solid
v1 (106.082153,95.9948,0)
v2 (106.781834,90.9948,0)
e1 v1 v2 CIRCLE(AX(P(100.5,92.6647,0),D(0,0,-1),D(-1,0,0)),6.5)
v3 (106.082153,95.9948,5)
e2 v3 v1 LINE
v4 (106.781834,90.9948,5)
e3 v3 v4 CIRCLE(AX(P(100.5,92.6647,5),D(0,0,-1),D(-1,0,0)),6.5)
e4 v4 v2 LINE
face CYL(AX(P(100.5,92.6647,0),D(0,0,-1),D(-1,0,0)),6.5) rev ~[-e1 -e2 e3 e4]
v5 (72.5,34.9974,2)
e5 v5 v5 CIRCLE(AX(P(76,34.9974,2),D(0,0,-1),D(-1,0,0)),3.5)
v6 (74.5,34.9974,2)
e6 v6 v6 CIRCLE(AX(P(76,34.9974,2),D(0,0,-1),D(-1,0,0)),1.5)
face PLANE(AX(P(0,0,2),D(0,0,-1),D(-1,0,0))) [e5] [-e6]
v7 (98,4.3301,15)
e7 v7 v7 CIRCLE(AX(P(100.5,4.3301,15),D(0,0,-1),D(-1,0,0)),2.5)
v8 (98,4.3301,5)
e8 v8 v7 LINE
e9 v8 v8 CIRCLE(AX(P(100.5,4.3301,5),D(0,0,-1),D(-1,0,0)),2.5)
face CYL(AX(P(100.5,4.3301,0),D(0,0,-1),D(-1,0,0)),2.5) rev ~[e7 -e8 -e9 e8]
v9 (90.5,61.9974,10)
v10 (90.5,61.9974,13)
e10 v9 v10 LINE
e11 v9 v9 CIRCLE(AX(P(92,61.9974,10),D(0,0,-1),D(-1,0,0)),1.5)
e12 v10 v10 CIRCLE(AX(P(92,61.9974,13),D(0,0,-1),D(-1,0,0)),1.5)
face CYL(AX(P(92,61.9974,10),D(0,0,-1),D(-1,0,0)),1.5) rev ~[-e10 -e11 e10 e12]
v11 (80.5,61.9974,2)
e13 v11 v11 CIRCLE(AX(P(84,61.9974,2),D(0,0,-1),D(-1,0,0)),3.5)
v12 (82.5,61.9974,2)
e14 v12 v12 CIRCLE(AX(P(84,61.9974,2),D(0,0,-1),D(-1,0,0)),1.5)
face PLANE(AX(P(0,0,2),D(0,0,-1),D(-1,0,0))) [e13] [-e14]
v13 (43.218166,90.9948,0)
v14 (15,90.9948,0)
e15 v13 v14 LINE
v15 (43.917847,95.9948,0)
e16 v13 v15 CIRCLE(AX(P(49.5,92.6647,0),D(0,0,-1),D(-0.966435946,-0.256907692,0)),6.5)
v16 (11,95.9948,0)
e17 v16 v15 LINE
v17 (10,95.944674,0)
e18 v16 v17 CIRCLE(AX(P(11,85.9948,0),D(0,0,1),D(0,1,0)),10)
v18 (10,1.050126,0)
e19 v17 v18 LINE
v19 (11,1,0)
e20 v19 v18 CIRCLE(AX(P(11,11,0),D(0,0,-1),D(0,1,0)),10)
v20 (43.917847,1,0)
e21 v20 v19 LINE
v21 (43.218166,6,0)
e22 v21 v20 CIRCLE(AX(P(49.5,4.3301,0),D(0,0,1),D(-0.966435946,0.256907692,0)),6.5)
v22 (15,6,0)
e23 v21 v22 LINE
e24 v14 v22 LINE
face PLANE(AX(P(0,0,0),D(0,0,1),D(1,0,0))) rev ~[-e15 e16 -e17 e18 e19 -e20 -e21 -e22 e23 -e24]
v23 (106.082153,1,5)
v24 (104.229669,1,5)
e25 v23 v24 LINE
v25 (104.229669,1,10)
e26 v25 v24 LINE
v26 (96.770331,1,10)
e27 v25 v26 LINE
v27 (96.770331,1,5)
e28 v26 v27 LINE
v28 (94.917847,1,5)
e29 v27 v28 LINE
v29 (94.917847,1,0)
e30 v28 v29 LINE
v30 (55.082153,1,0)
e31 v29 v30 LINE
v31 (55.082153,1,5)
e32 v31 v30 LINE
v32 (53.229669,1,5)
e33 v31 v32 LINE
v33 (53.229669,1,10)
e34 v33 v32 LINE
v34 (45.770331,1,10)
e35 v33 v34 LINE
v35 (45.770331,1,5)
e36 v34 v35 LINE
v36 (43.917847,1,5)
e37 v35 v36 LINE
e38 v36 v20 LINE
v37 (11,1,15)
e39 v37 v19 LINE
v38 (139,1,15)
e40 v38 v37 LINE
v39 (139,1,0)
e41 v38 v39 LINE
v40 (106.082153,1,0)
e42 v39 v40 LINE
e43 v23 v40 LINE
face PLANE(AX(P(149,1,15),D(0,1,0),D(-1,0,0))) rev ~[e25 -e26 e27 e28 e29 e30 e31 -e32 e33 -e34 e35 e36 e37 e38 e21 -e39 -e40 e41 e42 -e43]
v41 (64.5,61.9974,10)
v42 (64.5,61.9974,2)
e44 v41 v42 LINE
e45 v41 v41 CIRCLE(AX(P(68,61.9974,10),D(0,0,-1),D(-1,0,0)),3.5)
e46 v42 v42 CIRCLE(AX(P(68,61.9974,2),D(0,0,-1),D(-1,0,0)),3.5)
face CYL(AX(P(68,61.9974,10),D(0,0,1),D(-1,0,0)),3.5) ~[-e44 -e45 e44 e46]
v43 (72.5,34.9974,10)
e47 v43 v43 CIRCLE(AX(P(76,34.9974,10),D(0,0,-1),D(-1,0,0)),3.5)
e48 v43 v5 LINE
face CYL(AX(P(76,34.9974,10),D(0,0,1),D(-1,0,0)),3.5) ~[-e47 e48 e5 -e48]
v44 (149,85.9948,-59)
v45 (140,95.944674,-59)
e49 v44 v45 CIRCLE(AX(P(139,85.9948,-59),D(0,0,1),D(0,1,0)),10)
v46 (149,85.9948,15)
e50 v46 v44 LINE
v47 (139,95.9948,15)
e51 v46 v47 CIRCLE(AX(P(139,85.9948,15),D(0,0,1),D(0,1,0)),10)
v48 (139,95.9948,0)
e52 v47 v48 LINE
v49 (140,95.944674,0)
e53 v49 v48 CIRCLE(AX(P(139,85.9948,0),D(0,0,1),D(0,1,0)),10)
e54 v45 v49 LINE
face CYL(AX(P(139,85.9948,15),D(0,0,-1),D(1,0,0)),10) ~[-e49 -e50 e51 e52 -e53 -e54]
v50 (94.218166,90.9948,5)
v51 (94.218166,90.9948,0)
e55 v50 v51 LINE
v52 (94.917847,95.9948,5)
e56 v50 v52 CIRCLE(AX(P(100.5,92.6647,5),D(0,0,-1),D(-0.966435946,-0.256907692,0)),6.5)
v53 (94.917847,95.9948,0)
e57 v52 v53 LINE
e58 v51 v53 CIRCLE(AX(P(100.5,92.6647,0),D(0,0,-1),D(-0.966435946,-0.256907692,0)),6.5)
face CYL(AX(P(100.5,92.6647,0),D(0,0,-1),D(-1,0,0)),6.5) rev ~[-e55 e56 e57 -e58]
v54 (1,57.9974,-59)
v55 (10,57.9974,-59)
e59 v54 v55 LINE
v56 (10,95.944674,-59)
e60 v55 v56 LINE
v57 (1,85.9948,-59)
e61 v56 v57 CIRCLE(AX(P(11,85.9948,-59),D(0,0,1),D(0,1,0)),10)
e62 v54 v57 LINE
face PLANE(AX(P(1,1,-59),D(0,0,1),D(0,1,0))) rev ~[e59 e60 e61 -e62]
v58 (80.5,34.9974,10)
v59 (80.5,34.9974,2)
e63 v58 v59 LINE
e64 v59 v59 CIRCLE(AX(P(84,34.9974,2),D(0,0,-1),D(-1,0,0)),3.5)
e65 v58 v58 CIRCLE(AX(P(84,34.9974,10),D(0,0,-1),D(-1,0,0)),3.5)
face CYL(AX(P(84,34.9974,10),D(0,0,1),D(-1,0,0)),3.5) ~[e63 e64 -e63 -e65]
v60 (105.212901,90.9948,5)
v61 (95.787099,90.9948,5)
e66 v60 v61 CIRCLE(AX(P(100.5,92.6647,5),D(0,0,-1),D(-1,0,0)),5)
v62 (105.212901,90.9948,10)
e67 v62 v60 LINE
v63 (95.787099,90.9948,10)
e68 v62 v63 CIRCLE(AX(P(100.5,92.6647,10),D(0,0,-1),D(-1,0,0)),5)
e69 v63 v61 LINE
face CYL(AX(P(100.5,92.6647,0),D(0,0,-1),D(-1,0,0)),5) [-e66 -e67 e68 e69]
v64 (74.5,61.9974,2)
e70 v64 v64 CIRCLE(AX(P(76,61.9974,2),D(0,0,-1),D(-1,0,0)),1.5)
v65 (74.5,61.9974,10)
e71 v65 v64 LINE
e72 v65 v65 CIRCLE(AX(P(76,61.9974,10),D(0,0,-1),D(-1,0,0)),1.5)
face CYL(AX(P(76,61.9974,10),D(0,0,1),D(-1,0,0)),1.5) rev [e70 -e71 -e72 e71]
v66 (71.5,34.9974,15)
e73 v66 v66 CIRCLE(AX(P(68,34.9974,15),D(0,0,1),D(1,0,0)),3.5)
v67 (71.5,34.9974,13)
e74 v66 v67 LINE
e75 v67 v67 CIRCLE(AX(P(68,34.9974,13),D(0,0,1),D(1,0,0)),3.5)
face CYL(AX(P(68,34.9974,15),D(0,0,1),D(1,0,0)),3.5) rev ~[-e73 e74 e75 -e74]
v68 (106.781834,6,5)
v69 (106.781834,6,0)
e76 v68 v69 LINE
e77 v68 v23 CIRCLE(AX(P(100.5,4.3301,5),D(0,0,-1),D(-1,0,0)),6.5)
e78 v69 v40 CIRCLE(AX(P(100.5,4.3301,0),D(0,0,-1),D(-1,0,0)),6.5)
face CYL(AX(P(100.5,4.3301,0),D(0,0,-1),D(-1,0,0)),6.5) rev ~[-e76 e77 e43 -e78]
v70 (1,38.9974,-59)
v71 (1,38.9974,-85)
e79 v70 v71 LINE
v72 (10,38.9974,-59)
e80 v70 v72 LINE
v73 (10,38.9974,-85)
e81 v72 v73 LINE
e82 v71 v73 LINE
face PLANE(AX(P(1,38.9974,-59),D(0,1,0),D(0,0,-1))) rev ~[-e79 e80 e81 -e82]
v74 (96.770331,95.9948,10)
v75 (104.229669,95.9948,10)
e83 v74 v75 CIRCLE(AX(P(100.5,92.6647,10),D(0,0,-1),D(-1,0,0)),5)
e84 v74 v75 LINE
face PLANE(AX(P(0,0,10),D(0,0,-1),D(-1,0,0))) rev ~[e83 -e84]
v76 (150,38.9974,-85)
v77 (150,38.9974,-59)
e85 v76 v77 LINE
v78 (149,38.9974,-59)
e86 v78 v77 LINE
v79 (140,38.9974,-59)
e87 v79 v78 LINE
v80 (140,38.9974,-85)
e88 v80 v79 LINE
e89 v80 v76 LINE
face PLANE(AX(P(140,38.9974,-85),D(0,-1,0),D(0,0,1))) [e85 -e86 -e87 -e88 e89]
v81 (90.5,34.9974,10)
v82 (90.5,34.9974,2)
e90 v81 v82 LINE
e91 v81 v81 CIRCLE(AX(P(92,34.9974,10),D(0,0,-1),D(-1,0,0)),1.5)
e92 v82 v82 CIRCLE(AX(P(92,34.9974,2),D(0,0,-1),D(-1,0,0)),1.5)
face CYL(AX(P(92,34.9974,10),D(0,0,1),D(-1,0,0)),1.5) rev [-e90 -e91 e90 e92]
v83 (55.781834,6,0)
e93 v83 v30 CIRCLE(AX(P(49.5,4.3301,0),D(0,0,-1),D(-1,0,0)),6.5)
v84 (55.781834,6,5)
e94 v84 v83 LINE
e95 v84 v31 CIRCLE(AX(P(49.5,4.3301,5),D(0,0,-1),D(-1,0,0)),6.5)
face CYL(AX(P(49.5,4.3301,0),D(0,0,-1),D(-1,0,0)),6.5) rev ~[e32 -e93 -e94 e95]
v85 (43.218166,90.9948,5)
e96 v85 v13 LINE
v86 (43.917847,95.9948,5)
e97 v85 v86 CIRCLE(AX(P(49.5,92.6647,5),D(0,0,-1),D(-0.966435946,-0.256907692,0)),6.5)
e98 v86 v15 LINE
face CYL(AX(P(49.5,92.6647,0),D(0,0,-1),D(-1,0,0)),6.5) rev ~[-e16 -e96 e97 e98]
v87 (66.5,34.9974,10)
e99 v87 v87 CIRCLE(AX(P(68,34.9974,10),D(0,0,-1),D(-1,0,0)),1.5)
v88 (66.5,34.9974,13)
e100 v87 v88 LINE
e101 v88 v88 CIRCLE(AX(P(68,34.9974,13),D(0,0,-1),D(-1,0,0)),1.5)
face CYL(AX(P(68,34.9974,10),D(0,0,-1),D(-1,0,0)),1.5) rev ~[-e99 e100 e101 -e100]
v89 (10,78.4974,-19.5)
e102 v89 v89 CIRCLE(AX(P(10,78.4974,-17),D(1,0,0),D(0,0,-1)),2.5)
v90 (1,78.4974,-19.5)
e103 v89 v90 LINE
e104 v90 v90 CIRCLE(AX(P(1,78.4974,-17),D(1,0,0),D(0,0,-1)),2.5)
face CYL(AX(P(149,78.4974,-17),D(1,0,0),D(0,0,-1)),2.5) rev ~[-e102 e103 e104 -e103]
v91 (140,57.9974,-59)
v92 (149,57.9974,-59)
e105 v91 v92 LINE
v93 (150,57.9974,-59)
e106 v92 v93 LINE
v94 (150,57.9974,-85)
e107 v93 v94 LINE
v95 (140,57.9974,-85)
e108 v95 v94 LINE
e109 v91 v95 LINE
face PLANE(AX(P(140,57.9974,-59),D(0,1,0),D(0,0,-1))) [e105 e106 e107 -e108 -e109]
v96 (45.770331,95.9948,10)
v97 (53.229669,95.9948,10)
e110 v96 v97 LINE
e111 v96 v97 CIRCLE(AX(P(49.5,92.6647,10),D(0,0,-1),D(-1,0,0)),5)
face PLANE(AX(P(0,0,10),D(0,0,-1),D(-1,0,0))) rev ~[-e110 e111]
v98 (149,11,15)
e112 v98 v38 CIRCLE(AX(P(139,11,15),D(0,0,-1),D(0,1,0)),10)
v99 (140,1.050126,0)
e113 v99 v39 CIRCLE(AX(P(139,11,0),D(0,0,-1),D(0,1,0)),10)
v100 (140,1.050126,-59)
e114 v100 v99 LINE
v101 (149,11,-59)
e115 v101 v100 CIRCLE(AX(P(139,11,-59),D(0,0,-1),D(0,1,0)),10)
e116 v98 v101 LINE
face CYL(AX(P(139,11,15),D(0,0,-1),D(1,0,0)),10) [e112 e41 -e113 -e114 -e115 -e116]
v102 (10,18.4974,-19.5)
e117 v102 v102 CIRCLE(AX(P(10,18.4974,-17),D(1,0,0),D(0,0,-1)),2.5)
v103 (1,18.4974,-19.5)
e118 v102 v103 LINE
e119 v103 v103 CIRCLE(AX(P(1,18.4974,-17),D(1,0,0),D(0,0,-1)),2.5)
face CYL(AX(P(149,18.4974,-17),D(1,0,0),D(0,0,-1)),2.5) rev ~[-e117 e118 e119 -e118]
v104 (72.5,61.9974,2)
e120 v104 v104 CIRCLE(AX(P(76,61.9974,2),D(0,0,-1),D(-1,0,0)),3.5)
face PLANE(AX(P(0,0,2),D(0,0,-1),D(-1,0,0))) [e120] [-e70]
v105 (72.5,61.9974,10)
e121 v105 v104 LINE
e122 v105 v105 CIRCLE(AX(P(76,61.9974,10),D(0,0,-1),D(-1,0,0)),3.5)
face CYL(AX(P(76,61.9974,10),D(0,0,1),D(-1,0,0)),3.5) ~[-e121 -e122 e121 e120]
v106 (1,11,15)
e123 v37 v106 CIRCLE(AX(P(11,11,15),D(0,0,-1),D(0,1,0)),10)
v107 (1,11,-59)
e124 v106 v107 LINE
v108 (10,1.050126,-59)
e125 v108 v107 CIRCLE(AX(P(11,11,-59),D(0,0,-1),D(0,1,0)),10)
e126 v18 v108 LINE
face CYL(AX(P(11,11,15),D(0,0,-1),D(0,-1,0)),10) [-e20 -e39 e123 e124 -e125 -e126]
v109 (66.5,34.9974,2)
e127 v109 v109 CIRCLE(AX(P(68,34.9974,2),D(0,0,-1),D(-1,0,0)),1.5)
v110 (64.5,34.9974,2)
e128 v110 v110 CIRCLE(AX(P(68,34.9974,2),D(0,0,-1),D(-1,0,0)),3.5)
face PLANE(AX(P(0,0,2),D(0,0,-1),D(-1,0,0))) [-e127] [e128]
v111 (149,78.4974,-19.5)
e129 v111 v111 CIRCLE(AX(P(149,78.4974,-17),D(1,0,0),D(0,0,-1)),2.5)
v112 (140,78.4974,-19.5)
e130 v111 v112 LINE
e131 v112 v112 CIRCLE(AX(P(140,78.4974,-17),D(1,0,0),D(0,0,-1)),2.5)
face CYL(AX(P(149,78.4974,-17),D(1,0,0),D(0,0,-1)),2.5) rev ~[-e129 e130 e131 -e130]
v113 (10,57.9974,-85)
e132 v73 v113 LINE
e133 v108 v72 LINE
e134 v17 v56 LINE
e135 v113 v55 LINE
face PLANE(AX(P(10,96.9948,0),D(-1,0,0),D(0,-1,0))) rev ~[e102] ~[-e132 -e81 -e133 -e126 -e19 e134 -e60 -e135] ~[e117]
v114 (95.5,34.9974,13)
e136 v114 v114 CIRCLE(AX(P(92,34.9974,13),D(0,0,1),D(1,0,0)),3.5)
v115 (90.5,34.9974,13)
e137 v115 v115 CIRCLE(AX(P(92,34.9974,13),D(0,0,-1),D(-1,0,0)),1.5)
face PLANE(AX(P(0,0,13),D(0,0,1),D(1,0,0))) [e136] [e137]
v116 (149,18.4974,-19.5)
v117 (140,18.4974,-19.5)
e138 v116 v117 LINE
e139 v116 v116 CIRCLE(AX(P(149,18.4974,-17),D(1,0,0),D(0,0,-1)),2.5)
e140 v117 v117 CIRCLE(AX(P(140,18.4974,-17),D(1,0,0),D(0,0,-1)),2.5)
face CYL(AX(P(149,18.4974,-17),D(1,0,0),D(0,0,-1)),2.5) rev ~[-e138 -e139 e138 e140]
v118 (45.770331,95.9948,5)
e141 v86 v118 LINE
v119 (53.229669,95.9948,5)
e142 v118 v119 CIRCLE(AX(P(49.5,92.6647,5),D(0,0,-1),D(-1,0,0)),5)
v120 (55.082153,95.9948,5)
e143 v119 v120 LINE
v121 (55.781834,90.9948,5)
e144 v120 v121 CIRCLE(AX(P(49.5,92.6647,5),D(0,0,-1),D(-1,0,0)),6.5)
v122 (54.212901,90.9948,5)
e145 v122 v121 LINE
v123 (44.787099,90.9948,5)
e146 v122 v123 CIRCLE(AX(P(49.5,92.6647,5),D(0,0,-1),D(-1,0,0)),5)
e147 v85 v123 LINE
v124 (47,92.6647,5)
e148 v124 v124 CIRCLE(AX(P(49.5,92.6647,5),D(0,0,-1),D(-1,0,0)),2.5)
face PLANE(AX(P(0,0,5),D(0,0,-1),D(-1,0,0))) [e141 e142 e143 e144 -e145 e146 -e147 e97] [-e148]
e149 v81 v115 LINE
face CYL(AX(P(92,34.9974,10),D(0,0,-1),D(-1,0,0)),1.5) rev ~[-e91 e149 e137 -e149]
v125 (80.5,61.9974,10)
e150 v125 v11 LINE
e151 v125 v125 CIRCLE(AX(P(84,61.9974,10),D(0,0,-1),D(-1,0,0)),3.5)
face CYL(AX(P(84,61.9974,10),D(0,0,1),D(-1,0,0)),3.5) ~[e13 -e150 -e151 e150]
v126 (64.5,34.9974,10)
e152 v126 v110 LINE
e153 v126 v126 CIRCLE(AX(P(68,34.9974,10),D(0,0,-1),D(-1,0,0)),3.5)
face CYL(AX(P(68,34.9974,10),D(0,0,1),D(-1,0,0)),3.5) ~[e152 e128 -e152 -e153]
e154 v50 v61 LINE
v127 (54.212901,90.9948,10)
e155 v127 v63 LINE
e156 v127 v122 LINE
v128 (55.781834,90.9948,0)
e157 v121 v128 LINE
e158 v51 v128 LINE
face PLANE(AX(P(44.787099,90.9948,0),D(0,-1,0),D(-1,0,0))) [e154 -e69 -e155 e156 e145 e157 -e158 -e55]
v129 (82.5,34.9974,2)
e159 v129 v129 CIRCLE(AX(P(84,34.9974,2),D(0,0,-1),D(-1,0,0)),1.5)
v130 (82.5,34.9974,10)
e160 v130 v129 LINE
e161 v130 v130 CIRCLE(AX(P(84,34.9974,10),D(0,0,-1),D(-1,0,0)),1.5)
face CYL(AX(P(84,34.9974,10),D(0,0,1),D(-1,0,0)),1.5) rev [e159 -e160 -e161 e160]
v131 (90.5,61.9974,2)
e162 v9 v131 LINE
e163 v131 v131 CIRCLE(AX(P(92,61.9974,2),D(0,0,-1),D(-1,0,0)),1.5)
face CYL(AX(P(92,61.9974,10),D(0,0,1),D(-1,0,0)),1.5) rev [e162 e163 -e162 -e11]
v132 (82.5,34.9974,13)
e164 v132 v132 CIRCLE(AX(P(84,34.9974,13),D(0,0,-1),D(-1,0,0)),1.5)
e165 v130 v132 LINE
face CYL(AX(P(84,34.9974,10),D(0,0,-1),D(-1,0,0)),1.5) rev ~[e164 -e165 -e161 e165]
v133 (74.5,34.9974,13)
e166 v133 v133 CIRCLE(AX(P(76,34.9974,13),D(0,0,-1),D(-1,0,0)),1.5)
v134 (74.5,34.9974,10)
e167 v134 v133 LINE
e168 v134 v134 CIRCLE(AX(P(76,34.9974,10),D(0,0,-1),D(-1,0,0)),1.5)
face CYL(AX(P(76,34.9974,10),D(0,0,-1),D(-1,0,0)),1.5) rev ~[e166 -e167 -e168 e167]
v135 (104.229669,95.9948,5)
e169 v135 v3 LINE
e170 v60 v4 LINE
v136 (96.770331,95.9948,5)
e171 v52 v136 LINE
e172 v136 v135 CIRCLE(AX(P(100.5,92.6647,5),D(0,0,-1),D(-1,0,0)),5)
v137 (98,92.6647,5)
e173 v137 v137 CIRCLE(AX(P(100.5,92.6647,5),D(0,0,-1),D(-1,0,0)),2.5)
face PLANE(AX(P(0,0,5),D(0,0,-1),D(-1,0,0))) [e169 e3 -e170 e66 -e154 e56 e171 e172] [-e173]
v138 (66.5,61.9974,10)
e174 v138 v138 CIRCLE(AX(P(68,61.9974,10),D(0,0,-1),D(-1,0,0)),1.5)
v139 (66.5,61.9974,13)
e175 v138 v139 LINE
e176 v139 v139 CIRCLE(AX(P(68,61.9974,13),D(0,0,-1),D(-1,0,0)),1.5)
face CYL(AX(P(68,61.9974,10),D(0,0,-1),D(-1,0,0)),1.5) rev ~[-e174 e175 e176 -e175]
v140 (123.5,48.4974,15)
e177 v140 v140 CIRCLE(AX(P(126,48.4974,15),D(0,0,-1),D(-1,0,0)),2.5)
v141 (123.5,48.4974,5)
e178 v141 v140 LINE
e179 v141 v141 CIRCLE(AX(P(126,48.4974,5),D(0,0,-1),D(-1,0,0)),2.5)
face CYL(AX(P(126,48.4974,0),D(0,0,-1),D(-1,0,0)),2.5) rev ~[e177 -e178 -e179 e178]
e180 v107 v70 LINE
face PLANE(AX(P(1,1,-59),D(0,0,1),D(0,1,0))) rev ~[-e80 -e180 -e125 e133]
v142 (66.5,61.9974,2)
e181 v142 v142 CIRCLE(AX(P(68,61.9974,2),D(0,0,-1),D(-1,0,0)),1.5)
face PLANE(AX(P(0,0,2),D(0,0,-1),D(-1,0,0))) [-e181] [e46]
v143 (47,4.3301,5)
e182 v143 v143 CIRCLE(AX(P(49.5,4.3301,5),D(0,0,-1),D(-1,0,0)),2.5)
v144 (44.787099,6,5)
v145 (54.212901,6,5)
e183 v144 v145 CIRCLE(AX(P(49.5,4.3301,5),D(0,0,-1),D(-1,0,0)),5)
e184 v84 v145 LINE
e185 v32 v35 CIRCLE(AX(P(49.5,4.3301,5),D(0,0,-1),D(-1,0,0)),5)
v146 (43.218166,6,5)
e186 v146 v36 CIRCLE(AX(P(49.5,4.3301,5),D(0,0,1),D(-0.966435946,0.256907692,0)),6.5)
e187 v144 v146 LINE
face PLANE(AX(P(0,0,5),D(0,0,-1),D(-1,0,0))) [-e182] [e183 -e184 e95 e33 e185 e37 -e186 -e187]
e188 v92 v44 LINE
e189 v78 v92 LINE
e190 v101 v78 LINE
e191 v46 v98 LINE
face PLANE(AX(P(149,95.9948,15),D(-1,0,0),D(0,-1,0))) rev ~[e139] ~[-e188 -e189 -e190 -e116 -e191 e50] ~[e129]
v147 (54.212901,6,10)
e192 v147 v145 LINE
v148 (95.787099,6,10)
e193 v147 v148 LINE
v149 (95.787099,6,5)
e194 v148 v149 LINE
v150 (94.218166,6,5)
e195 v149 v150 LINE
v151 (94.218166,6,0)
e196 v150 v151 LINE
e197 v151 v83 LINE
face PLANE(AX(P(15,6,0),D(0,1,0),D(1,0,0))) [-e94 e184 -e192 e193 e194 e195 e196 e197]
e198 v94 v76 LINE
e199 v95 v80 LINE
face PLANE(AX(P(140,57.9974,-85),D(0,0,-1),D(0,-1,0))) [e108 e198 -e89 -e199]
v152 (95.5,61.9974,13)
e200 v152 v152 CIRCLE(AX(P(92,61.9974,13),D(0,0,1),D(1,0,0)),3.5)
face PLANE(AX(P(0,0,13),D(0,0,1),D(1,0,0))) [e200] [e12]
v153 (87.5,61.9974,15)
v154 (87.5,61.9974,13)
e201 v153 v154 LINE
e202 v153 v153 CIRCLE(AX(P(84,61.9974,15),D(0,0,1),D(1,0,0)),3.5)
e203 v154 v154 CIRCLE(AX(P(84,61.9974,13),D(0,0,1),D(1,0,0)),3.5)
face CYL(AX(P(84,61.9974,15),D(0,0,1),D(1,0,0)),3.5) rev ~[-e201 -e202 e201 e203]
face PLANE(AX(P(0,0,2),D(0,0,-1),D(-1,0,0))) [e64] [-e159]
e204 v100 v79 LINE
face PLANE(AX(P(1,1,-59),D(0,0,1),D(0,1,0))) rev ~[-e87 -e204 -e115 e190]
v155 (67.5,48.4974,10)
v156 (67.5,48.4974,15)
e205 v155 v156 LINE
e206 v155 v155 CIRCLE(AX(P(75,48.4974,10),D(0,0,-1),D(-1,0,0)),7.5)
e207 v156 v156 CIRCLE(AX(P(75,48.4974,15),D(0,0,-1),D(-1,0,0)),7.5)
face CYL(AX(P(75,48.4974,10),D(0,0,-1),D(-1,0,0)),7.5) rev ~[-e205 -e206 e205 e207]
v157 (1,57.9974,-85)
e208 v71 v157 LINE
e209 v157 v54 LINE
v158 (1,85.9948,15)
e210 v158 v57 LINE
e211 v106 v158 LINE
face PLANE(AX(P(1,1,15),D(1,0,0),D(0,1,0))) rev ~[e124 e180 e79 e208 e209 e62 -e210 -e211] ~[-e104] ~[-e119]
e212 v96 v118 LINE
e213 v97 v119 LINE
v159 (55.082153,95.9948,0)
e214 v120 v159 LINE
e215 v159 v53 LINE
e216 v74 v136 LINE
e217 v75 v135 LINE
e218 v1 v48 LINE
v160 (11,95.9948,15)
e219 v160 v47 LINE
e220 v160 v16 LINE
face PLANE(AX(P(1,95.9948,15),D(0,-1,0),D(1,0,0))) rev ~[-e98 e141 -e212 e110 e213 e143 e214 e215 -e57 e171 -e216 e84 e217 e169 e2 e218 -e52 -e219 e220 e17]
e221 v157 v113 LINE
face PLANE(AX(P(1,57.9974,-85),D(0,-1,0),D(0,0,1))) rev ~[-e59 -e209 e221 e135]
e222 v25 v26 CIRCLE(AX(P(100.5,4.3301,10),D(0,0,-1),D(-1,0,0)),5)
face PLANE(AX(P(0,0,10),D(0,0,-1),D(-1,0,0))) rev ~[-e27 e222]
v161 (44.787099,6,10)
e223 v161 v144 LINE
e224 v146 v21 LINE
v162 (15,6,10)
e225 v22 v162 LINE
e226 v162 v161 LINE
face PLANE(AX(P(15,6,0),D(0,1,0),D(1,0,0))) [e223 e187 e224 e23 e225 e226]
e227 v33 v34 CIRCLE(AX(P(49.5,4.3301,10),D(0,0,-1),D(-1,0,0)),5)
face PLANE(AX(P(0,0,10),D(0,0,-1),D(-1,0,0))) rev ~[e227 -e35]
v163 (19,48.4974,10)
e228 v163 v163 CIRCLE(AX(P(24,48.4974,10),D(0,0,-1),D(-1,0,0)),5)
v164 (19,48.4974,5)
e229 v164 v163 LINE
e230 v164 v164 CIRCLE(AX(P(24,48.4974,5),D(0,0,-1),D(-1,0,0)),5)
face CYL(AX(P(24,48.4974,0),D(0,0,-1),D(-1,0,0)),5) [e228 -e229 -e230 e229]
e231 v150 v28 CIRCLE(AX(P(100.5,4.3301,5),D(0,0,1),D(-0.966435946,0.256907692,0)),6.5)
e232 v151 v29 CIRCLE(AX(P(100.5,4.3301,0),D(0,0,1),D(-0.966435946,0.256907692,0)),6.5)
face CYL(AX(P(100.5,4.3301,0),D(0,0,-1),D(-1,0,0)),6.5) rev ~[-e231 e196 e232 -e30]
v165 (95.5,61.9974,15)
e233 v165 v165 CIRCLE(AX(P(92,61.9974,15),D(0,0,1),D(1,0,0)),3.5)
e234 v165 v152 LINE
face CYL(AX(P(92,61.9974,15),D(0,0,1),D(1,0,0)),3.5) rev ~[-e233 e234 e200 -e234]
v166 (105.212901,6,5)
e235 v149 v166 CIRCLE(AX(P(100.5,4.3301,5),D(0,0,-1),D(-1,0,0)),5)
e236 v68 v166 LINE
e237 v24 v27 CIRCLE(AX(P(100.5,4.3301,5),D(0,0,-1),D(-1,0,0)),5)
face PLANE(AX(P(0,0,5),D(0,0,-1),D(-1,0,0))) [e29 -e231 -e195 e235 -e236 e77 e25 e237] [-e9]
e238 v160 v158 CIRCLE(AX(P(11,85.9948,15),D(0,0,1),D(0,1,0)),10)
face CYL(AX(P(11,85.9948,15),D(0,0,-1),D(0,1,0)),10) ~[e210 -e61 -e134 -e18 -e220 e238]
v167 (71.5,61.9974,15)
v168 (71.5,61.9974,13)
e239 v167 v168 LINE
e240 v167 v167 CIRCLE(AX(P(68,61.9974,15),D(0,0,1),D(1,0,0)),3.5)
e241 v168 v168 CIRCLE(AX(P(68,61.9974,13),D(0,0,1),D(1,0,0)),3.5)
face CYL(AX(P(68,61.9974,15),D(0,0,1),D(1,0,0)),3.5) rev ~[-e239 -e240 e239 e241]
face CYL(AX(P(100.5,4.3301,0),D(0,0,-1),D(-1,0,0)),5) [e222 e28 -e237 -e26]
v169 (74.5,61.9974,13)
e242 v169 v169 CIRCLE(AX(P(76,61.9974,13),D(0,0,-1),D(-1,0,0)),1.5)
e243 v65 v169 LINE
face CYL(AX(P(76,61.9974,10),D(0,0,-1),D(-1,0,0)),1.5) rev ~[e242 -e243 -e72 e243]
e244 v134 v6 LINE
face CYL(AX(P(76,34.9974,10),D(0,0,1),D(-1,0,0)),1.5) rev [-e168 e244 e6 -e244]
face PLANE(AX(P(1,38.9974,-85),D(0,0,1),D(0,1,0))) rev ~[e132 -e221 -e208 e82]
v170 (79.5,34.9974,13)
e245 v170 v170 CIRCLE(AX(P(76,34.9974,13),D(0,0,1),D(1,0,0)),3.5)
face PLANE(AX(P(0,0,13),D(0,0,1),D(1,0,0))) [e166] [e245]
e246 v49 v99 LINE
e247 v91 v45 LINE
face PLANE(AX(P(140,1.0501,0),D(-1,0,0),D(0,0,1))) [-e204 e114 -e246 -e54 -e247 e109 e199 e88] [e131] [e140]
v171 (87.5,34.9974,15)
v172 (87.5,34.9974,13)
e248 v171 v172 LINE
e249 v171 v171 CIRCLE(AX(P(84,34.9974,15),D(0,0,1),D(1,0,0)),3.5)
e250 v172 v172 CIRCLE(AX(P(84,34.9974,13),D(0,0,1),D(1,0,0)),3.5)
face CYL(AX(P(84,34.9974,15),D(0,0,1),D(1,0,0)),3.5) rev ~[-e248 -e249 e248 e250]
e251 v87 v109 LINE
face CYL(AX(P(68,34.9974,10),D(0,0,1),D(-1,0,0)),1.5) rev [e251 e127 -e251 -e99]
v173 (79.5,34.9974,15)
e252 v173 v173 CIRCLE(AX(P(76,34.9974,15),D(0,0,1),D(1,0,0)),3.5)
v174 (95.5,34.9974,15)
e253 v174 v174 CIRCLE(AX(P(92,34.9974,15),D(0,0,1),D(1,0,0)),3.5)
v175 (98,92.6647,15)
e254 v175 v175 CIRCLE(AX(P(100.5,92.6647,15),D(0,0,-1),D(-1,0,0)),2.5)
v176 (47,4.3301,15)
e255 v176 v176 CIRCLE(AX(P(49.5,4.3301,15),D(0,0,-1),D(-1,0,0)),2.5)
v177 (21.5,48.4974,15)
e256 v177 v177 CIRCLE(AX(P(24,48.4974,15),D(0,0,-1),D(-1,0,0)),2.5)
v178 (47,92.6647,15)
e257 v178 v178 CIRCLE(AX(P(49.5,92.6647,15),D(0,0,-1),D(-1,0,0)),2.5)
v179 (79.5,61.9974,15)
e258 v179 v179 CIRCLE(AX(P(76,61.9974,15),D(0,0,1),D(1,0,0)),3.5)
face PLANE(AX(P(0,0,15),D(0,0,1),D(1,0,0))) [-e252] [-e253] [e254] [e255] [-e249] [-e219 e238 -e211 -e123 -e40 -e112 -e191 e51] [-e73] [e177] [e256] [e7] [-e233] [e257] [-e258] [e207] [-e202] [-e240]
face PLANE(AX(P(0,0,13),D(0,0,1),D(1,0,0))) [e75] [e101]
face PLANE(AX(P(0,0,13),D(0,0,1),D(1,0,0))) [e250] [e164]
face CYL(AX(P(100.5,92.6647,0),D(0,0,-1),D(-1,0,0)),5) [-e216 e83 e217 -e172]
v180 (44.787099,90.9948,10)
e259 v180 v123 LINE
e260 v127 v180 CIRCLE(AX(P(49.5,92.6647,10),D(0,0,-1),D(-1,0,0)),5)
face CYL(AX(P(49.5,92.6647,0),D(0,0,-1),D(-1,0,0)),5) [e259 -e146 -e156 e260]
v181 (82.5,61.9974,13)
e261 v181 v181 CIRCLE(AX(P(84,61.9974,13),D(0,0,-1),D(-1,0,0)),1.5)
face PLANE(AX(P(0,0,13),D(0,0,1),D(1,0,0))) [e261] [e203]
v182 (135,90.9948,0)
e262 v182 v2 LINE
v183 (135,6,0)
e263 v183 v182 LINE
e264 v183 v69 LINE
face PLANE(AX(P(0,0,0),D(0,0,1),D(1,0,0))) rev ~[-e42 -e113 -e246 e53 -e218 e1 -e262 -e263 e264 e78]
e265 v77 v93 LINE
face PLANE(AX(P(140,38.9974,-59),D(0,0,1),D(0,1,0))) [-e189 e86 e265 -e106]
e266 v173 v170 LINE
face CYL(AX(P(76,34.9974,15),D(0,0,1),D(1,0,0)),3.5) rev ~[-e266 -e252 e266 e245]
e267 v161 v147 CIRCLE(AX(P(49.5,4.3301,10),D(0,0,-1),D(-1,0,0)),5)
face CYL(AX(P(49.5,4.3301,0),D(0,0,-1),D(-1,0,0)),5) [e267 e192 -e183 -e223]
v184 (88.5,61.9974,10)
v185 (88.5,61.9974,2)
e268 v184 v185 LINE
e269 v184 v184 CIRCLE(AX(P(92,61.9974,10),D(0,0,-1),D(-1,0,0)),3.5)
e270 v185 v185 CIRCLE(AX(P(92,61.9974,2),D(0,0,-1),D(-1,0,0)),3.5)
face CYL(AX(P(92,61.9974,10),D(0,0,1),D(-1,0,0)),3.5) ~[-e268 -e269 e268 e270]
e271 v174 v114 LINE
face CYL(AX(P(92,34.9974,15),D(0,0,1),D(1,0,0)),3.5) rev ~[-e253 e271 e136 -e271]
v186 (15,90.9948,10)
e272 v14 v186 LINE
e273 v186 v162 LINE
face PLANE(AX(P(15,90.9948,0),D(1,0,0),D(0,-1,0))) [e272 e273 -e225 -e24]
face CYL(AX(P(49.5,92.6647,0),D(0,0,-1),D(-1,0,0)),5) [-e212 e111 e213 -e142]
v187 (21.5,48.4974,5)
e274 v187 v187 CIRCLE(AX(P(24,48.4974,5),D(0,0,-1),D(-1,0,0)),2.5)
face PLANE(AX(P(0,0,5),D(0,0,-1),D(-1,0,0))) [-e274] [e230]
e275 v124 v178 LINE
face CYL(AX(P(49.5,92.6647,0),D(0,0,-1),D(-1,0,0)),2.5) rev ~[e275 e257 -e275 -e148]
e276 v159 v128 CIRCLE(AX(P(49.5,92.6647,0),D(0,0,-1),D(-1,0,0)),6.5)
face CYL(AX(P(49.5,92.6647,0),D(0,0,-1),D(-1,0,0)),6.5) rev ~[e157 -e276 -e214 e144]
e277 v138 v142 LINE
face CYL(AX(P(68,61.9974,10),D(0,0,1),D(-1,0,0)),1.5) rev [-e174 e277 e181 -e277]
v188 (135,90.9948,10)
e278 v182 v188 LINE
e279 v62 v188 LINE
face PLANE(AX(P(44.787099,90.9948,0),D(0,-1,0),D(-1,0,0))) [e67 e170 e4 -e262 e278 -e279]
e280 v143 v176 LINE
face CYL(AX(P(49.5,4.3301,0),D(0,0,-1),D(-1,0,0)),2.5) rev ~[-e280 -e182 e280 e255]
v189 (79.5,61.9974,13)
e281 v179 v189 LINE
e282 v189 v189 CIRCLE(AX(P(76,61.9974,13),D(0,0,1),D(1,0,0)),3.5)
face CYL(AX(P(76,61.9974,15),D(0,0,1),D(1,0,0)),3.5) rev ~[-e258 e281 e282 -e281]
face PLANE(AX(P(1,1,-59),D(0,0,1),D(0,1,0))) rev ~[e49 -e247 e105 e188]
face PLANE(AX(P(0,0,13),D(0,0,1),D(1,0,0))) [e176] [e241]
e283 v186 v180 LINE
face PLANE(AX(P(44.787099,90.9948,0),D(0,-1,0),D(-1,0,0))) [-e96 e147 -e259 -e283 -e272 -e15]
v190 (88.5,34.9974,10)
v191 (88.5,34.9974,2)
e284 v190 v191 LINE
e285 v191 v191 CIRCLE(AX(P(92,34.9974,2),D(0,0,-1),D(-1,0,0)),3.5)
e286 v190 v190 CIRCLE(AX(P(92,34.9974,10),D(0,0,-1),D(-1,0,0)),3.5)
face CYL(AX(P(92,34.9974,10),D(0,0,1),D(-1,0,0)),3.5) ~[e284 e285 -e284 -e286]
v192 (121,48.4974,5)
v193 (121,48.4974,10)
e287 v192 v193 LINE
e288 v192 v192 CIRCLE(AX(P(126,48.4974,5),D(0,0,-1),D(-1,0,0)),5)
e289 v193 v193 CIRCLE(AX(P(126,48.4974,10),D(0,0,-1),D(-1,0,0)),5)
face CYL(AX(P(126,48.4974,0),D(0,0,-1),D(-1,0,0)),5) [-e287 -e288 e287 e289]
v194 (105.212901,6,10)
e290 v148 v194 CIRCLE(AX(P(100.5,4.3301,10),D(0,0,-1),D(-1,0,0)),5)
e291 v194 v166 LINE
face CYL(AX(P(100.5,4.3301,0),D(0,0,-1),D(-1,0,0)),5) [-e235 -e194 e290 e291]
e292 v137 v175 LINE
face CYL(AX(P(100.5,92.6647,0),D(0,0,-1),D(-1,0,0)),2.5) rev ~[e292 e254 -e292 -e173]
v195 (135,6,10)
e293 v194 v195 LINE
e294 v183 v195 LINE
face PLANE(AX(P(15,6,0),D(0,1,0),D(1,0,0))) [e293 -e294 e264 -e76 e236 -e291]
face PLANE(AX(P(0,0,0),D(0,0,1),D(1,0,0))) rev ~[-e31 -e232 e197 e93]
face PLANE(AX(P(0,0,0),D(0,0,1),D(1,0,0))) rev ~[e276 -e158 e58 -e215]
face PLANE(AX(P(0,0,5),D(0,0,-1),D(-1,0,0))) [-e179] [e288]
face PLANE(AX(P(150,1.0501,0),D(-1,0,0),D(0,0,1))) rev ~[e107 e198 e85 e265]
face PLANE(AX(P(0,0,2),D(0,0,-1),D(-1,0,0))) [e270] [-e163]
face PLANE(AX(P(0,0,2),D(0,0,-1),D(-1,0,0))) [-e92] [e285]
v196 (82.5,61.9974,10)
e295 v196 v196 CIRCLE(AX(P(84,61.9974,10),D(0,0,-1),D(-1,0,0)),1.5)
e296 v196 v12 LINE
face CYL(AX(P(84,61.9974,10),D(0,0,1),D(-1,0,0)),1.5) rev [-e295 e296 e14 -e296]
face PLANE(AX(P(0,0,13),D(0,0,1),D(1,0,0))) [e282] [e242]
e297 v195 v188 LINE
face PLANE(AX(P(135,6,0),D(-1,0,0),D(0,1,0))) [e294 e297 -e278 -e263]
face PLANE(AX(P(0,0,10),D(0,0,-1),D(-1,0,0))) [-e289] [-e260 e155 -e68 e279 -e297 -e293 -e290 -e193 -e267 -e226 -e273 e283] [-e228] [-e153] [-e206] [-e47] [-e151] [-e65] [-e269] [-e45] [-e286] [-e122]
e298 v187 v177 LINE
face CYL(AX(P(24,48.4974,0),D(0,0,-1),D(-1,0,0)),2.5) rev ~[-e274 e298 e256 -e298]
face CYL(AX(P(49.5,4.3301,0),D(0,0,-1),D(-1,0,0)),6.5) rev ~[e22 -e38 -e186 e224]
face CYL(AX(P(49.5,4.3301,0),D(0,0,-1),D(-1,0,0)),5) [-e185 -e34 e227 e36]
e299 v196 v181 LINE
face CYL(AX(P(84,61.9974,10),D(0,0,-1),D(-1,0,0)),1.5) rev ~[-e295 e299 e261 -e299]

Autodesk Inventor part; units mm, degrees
ref_plane "YZ Plane" through (0, 0, 0) normal (1, 0, 0) x (0, 1, 0)
ref_plane "XZ Plane" through (0, 0, 0) normal (0, 1, 0) x (-1, 0, 0)
ref_plane "XY Plane" through (0, 0, 0) normal (0, 0, 1) x (1, 0, 0)
sketch "Sketch1" plane through (0, 0, 0) normal (0, 0, 1) x (1, 0, 0)
  line L0 (0, 0) -> (150, 0)
  line L1 (150, 0) -> (150, 96.9948)
  line L2 (150, 96.9948) -> (0, 96.9948)
  line L3 (0, 96.9948) -> (0, 0)
  dimension "d0" = 150
  dimension "d1" = 96.9948
extrude "Extrusion1" add sketch "Sketch1" along normal blind 15
sketch "Sketch2" plane through (0, 0, 0) normal (0, 0, -1) x (-1, 0, 0)
  line L0 (0, 96.9948) -> (0, 0) projected
  line L1 (0, 0) -> (-150, 0) projected
  line L2 (0, 96.9948) -> (-10, 96.9948)
  line L3 (-10, 96.9948) -> (-10, 0)
  line L4 (-10, 0) -> (0, 0)
  line L5 (0, 0) -> (0, 96.9948)
  line L6 (-150, 96.9948) -> (0, 96.9948) projected
  line L7 (-150, 96.9948) -> (-140, 96.9948)
  line L8 (-140, 96.9948) -> (-140, 0)
  line L9 (-140, 0) -> (-150, 0)
  line L10 (-150, 0) -> (-150, 96.9948)
  dimension "d4" = 10
  dimension "d5" = 10
extrude "Extrusion2" add sketch "Sketch2" along normal blind 60 contours L0 L1 L3 L2 | L8 L1 L10 L6
sketch "Sketch3" plane through (150, 0, 15) normal (1, 0, 0) x (0, 0, -1)
  circle A0 centre (65, 65.9974) radius 2.5
  circle A1 centre (65, 30.9974) radius 2.5
  line L0 (75, 0) -> (75, 96.9948) projected
  line L1 (65, 65.9974) -> (65, 30.9974) construction
  point P0 (15, 0)
  point P1 (65, 48.4974)
  point P2 (75, 48.4974)
  dimension "d8" = 5
  dimension "d9" = 5
  dimension "d10" = 10
  dimension "d11" = 35
extrude "Extrusion3" [suppressed]
sketch "Sketch4" plane through (0, 0, 15) normal (0, 0, 1) x (1, 0, 0)
  line L0 (0, 0) -> (150, 0) projected
  line L1 (150, 0) -> (150, 96.9948) projected
  line L2 (150, 96.9948) -> (0, 96.9948) projected
  line L3 (0, 96.9948) -> (0, 0) projected
  line L4 (149, 1) -> (1, 1)
  line L5 (1, 1) -> (1, 95.9948)
  line L6 (1, 95.9948) -> (149, 95.9948)
  line L7 (149, 95.9948) -> (149, 1)
  dimension "d14" = 1
extrude "Extrusion4" cut sketch "Sketch4" against normal through all
sketch "Sketch5" plane through (1, 1, 15) normal (-1, 0, 0) x (0, 0, 1)
  line L0 (-75, 0) -> (-75, 94.9948) projected
  line L1 (-75, 94.9948) -> (-15, 94.9948) projected
  line L2 (-75, 0) -> (-74, 0)
  line L3 (-74, 0) -> (-74, 94.9948)
  line L4 (-74, 94.9948) -> (-75, 94.9948)
  line L5 (-75, 94.9948) -> (-75, 0)
  point P0 (-15, -1)
  dimension "d17" = 1
extrude "Extrusion5" cut sketch "Sketch5" against normal through all
sketch "Sketch6" plane through (0, 0, 0) normal (0, 0, -1) x (-1, 0, 0)
  line L0 (-10, 95.9948) -> (-140, 95.9948) projected
  line L1 (-140, 95.9948) -> (-140, 1) projected
  line L2 (-140, 1) -> (-10, 1) projected
  line L3 (-10, 1) -> (-10, 95.9948) projected
  line L4 (-15, 6) -> (-135, 6)
  line L5 (-135, 6) -> (-135, 90.9948)
  line L6 (-135, 90.9948) -> (-15, 90.9948)
  line L7 (-15, 90.9948) -> (-15, 6)
  line L8 (-10, 1) -> (-10, 95.9948) projected
  circle A0 centre (-75, 48.4974) radius 2.5
  circle A1 centre (-126, 48.4974) radius 2.5
  circle A2 centre (-100.5, 4.3301) radius 2.5
  circle A3 centre (-49.5, 4.3301) radius 2.5
  circle A4 centre (-24, 48.4974) radius 2.5
  circle A5 centre (-49.5, 92.6647) radius 2.5
  circle A6 centre (-100.5, 92.6647) radius 2.5
  circle A7 centre (-126, 48.4974) radius 5
  circle A8 centre (-100.5, 4.3301) radius 5
  circle A9 centre (-49.5, 4.3301) radius 5
  circle A10 centre (-24, 48.4974) radius 5
  circle A11 centre (-49.5, 92.6647) radius 5
  circle A12 centre (-100.5, 92.6647) radius 5
  point P0 (0, 0)
  point P1 (-75, 6)
  point P2 (-75, 1)
  point P3 (-15, 48.4974)
  point P4 (-10, 48.4974)
  dimension "d20" = 5
  dimension "d21" = 5
  dimension "d22" = 5
  dimension "d23" = 5
  dimension "d26" = 51
  dimension "d29" = 360
  dimension "d31" = 10
  dimension "d34" = 360
extrude "Extrusion6" cut sketch "Sketch6" against normal blind 10 contours A11 L6 L7 L4 A9 A8 L5 A12 | L6 A5 A11 | A12 L6 A6 | L6 A5 | A9 L4 A3 | A6 L6 | A3 L4 | L4 A2 A8 | L4 A2 | A0 picked at (-49.9702, 90.8634) picked at (-100.0298, 90.8634) picked at (-49.0298, 6.1314) picked at (-100.7933, 6.2234)
extrude "Extrusion7" cut sketch "Sketch6" against normal through all contours A5 L6 | L6 A5 | A6 L6 | L6 A6 | A3 L4 | L4 A3 | A2 L4 | L4 A2 | A1 | A4
extrude "Extrusion8" add sketch "Sketch6" against normal blind 10 contours A11 L6 A5 L0 | L0 A11 | A9 L2 | L2 A9 L4 A3 | A12 L6 A6 L0 | L0 A12 | L6 A5 A11 | A12 L6 A6 | A8 L2 | L2 A8 L4 A2 | A9 L4 A3 | L4 A2 A8
sketch "Sketch7" plane through (0, 0, 10) normal (0, 0, -1) x (-1, 0, 0)
  line L0 (-92, 61.9974) -> (-68, 61.9974) construction
  line L1 (-68, 61.9974) -> (-68, 34.9974) construction
  line L2 (-68, 34.9974) -> (-92, 34.9974) construction
  line L3 (-92, 34.9974) -> (-92, 61.9974) construction
  circle A0 centre (-92, 61.9974) radius 1.5
  circle A1 centre (-92, 34.9974) radius 1.5
  circle A2 centre (-68, 34.9974) radius 1.5
  circle A3 centre (-68, 61.9974) radius 1.5
  circle A4 centre (-84, 61.9974) radius 1.5
  circle A5 centre (-76, 61.9974) radius 1.5
  circle A6 centre (-84, 34.9974) radius 1.5
  circle A7 centre (-76, 34.9974) radius 1.5
  circle A8 centre (-24, 48.4974) radius 2.5 projected
  line L4 (-149, 1) -> (-149, 95.9948) projected
  point P0 (0, 0)
  point P1 (-92, 48.4974)
  point P2 (-80, 61.9974)
  dimension "d42" = 24
  dimension "d43" = 27
  dimension "d44" = 3
  dimension "d45" = 3
  dimension "d46" = 3
  dimension "d47" = 3
  dimension "d48" = 3
  dimension "d49" = 3
  dimension "d50" = 3
  dimension "d51" = 3
  dimension "d52" = 8
  dimension "d53" = 8
  dimension "d55" = 57
extrude "Extrusion9" cut sketch "Sketch7" against normal through all contours A0 | A1 | A2 | A3 | A4 | A5 | A6 | A7
sketch "Sketch8" plane through (0, 0, 10) normal (0, 0, -1) x (-1, 0, 0)
  circle A0 centre (-68, 34.9974) radius 1.5 projected
  circle A1 centre (-76, 34.9974) radius 1.5 projected
  circle A2 centre (-84, 34.9974) radius 1.5 projected
  circle A3 centre (-92, 34.9974) radius 1.5 projected
  circle A4 centre (-92, 61.9974) radius 1.5 projected
  circle A5 centre (-84, 61.9974) radius 1.5 projected
  circle A6 centre (-76, 61.9974) radius 1.5 projected
  circle A7 centre (-68, 61.9974) radius 1.5 projected
  circle A8 centre (-68, 34.9974) radius 3.5
  circle A9 centre (-76, 34.9974) radius 3.5
  circle A10 centre (-84, 34.9974) radius 3.5
  circle A11 centre (-92, 34.9974) radius 3.5
  circle A12 centre (-92, 61.9974) radius 3.5
  circle A13 centre (-84, 61.9974) radius 3.5
  circle A14 centre (-76, 61.9974) radius 3.5
  circle A15 centre (-68, 61.9974) radius 3.5
  point P0 (0, 0)
  dimension "d58" = 7
  dimension "d59" = 7
  dimension "d60" = 7
  dimension "d61" = 7
  dimension "d62" = 7
  dimension "d63" = 7
  dimension "d64" = 7
  dimension "d65" = 7
extrude "Extrusion10" add sketch "Sketch8" along normal blind 8
sketch "Sketch10" plane through (0, 0, 0) normal (0, 0, -1) x (-1, 0, 0)
  circle A0 centre (-126, 48.4974) radius 2.5 projected
  circle A1 centre (-24, 48.4974) radius 2.5 projected
  circle A2 centre (-49.5, 4.3301) radius 2.5 projected
  circle A3 centre (-100.5, 92.6647) radius 2.5 projected
  circle A4 centre (-49.5, 92.6647) radius 2.5 projected
  circle A5 centre (-100.5, 4.3301) radius 2.5 projected
  circle A6 centre (-49.5, 4.3301) radius 6.5
  circle A7 centre (-100.5, 4.3301) radius 6.5
  circle A8 centre (-126, 48.4974) radius 6.5
  circle A9 centre (-100.5, 92.6647) radius 6.5
  circle A10 centre (-49.5, 92.6647) radius 5 projected
  circle A11 centre (-49.5, 92.6647) radius 6.5
  circle A12 centre (-24, 48.4974) radius 6.5
  point P0 (0, 0)
  point P1 (-44.7871, 90.9948)
  point P2 (-54.2129, 90.9948)
  dimension "d69" = 13
  dimension "d70" = 13
  dimension "d71" = 13
  dimension "d72" = 13
  dimension "d73" = 13
  dimension "d74" = 13
extrude "Extrusion11" cut sketch "Sketch10" against normal blind 5 contours A0 | A1 | A2 | A3 | A4 | A5 | A6 | A7 | A8 | A9 | A10 | A11 | A12
sketch "Sketch12" plane through (0, 0, 15) normal (0, 0, 1) x (1, 0, 0)
  circle A0 centre (84, 61.9974) radius 1.5 projected
  circle A1 centre (68, 61.9974) radius 1.5 projected
  circle A2 centre (76, 61.9974) radius 1.5 projected
  circle A3 centre (92, 61.9974) radius 1.5 projected
  circle A4 centre (92, 34.9974) radius 1.5 projected
  circle A5 centre (84, 34.9974) radius 1.5 projected
  circle A6 centre (76, 34.9974) radius 1.5 projected
  circle A7 centre (68, 34.9974) radius 1.5 projected
  circle A8 centre (68, 61.9974) radius 3.5
  circle A9 centre (76, 61.9974) radius 1.5 projected
  circle A10 centre (76, 61.9974) radius 3.5
  circle A11 centre (84, 61.9974) radius 3.5
  circle A12 centre (92, 61.9974) radius 1.5 projected
  circle A13 centre (92, 61.9974) radius 3.5
  circle A14 centre (92, 34.9974) radius 3.5
  circle A15 centre (84, 34.9974) radius 3.5
  circle A16 centre (76, 34.9974) radius 3.5
  circle A17 centre (68, 34.9974) radius 3.5
  point P0 (0, 0)
  dimension "d77" = 7
  dimension "d78" = 7
  dimension "d79" = 7
  dimension "d80" = 7
  dimension "d81" = 7
  dimension "d82" = 7
  dimension "d83" = 7
  dimension "d84" = 7
extrude "Extrusion12" cut sketch "Sketch12" against normal blind 2 contours A0 | A1 | A2 | A3 | A4 | A5 | A6 | A7 | A8 | A10 | A11 | A13 | A14 | A15 | A16 | A17
sketch "Sketch13" plane through (1, 1, 15) normal (-1, 0, 0) x (0, 0, 1)
  line L0 (-74, 94.9948) -> (-74, 0) projected
  line L1 (-74, 37.9974) -> (-100, 37.9974)
  line L2 (-100, 37.9974) -> (-100, 56.9974)
  line L3 (-100, 56.9974) -> (-74, 56.9974)
  line L4 (-74, 56.9974) -> (-74, 37.9974)
  point P0 (-15, -1)
  point P1 (-74, 47.4974)
  dimension "d87" = 19
  dimension "d88" = 26
extrude "Extrusion13" add sketch "Sketch13" against normal blind 9
sketch "Sketch14" plane through (0, 0, 10) normal (0, 0, -1) x (-1, 0, 0)
  line L0 (-10, 95.9948) -> (-140, 95.9948) projected
  line L1 (-149, 1) -> (-149, 95.9948) projected
  circle A0 centre (-75, 48.4974) radius 7.5
  point P0 (0, 0)
  point P1 (-55.0821, 95.9948)
  point P2 (-94.9179, 95.9948)
  point P3 (-149, 48.4974)
  point P4 (-75, 95.9948)
  dimension "d92" = 15
extrude "Extrusion14" cut sketch "Sketch14" against normal through all
fillet "Fillet1" radius 10 4 edges at (1, 95.9948, -22) (149, 95.9948, -22) (149, 1, -22) (1, 1, -22)
sketch "Sketch15" plane through (140, 1.0501, 0) normal (-1, 0, 0) x (0, 0, 1)
  line L0 (15, 9.9499) -> (-59, 9.9499) projected
  line L1 (15, 84.9447) -> (15, 9.9499) projected
  line L2 (-59, 84.9447) -> (15, 84.9447) projected
  line L3 (-59, 84.9447) -> (-59, 56.9473) projected
  line L4 (-59, 56.9473) -> (-85, 56.9473) projected
  line L5 (-85, 56.9473) -> (-85, 37.9473) projected
  line L6 (-85, 37.9473) -> (-59, 37.9473) projected
  line L7 (-59, 37.9473) -> (-59, 9.9499) projected
  line L8 (-59, 37.9473) -> (-59, 56.9473)
  line L9 (-59, 94.8946) -> (-59, 0) projected
  point P0 (0, -1.0501)
extrude "Extrusion15" add sketch "Sketch15" against normal blind 10 contours L6 L5 L4 L8
sketch "Sketch16" plane through (149, 11, 15) normal (1, 0, 0) x (0, 0, -1)
  line L0 (15, 84.9447) -> (15, -9.9499) construction
  circle A0 centre (32, 67.4974) radius 2.5
  circle A1 centre (32, 7.4974) radius 2.5
  line L1 (32, 67.4974) -> (32, 7.4974) construction
  point P0 (15, -11)
  point P1 (32, 37.4974)
  point P2 (15, 37.4974)
  dimension "d98" = 5
  dimension "d99" = 5
  dimension "d100" = 60
  dimension "d101" = 17
extrude "Extrusion16" cut sketch "Sketch16" against normal through all
properties part number "GA03" material "ABS Plastic"
